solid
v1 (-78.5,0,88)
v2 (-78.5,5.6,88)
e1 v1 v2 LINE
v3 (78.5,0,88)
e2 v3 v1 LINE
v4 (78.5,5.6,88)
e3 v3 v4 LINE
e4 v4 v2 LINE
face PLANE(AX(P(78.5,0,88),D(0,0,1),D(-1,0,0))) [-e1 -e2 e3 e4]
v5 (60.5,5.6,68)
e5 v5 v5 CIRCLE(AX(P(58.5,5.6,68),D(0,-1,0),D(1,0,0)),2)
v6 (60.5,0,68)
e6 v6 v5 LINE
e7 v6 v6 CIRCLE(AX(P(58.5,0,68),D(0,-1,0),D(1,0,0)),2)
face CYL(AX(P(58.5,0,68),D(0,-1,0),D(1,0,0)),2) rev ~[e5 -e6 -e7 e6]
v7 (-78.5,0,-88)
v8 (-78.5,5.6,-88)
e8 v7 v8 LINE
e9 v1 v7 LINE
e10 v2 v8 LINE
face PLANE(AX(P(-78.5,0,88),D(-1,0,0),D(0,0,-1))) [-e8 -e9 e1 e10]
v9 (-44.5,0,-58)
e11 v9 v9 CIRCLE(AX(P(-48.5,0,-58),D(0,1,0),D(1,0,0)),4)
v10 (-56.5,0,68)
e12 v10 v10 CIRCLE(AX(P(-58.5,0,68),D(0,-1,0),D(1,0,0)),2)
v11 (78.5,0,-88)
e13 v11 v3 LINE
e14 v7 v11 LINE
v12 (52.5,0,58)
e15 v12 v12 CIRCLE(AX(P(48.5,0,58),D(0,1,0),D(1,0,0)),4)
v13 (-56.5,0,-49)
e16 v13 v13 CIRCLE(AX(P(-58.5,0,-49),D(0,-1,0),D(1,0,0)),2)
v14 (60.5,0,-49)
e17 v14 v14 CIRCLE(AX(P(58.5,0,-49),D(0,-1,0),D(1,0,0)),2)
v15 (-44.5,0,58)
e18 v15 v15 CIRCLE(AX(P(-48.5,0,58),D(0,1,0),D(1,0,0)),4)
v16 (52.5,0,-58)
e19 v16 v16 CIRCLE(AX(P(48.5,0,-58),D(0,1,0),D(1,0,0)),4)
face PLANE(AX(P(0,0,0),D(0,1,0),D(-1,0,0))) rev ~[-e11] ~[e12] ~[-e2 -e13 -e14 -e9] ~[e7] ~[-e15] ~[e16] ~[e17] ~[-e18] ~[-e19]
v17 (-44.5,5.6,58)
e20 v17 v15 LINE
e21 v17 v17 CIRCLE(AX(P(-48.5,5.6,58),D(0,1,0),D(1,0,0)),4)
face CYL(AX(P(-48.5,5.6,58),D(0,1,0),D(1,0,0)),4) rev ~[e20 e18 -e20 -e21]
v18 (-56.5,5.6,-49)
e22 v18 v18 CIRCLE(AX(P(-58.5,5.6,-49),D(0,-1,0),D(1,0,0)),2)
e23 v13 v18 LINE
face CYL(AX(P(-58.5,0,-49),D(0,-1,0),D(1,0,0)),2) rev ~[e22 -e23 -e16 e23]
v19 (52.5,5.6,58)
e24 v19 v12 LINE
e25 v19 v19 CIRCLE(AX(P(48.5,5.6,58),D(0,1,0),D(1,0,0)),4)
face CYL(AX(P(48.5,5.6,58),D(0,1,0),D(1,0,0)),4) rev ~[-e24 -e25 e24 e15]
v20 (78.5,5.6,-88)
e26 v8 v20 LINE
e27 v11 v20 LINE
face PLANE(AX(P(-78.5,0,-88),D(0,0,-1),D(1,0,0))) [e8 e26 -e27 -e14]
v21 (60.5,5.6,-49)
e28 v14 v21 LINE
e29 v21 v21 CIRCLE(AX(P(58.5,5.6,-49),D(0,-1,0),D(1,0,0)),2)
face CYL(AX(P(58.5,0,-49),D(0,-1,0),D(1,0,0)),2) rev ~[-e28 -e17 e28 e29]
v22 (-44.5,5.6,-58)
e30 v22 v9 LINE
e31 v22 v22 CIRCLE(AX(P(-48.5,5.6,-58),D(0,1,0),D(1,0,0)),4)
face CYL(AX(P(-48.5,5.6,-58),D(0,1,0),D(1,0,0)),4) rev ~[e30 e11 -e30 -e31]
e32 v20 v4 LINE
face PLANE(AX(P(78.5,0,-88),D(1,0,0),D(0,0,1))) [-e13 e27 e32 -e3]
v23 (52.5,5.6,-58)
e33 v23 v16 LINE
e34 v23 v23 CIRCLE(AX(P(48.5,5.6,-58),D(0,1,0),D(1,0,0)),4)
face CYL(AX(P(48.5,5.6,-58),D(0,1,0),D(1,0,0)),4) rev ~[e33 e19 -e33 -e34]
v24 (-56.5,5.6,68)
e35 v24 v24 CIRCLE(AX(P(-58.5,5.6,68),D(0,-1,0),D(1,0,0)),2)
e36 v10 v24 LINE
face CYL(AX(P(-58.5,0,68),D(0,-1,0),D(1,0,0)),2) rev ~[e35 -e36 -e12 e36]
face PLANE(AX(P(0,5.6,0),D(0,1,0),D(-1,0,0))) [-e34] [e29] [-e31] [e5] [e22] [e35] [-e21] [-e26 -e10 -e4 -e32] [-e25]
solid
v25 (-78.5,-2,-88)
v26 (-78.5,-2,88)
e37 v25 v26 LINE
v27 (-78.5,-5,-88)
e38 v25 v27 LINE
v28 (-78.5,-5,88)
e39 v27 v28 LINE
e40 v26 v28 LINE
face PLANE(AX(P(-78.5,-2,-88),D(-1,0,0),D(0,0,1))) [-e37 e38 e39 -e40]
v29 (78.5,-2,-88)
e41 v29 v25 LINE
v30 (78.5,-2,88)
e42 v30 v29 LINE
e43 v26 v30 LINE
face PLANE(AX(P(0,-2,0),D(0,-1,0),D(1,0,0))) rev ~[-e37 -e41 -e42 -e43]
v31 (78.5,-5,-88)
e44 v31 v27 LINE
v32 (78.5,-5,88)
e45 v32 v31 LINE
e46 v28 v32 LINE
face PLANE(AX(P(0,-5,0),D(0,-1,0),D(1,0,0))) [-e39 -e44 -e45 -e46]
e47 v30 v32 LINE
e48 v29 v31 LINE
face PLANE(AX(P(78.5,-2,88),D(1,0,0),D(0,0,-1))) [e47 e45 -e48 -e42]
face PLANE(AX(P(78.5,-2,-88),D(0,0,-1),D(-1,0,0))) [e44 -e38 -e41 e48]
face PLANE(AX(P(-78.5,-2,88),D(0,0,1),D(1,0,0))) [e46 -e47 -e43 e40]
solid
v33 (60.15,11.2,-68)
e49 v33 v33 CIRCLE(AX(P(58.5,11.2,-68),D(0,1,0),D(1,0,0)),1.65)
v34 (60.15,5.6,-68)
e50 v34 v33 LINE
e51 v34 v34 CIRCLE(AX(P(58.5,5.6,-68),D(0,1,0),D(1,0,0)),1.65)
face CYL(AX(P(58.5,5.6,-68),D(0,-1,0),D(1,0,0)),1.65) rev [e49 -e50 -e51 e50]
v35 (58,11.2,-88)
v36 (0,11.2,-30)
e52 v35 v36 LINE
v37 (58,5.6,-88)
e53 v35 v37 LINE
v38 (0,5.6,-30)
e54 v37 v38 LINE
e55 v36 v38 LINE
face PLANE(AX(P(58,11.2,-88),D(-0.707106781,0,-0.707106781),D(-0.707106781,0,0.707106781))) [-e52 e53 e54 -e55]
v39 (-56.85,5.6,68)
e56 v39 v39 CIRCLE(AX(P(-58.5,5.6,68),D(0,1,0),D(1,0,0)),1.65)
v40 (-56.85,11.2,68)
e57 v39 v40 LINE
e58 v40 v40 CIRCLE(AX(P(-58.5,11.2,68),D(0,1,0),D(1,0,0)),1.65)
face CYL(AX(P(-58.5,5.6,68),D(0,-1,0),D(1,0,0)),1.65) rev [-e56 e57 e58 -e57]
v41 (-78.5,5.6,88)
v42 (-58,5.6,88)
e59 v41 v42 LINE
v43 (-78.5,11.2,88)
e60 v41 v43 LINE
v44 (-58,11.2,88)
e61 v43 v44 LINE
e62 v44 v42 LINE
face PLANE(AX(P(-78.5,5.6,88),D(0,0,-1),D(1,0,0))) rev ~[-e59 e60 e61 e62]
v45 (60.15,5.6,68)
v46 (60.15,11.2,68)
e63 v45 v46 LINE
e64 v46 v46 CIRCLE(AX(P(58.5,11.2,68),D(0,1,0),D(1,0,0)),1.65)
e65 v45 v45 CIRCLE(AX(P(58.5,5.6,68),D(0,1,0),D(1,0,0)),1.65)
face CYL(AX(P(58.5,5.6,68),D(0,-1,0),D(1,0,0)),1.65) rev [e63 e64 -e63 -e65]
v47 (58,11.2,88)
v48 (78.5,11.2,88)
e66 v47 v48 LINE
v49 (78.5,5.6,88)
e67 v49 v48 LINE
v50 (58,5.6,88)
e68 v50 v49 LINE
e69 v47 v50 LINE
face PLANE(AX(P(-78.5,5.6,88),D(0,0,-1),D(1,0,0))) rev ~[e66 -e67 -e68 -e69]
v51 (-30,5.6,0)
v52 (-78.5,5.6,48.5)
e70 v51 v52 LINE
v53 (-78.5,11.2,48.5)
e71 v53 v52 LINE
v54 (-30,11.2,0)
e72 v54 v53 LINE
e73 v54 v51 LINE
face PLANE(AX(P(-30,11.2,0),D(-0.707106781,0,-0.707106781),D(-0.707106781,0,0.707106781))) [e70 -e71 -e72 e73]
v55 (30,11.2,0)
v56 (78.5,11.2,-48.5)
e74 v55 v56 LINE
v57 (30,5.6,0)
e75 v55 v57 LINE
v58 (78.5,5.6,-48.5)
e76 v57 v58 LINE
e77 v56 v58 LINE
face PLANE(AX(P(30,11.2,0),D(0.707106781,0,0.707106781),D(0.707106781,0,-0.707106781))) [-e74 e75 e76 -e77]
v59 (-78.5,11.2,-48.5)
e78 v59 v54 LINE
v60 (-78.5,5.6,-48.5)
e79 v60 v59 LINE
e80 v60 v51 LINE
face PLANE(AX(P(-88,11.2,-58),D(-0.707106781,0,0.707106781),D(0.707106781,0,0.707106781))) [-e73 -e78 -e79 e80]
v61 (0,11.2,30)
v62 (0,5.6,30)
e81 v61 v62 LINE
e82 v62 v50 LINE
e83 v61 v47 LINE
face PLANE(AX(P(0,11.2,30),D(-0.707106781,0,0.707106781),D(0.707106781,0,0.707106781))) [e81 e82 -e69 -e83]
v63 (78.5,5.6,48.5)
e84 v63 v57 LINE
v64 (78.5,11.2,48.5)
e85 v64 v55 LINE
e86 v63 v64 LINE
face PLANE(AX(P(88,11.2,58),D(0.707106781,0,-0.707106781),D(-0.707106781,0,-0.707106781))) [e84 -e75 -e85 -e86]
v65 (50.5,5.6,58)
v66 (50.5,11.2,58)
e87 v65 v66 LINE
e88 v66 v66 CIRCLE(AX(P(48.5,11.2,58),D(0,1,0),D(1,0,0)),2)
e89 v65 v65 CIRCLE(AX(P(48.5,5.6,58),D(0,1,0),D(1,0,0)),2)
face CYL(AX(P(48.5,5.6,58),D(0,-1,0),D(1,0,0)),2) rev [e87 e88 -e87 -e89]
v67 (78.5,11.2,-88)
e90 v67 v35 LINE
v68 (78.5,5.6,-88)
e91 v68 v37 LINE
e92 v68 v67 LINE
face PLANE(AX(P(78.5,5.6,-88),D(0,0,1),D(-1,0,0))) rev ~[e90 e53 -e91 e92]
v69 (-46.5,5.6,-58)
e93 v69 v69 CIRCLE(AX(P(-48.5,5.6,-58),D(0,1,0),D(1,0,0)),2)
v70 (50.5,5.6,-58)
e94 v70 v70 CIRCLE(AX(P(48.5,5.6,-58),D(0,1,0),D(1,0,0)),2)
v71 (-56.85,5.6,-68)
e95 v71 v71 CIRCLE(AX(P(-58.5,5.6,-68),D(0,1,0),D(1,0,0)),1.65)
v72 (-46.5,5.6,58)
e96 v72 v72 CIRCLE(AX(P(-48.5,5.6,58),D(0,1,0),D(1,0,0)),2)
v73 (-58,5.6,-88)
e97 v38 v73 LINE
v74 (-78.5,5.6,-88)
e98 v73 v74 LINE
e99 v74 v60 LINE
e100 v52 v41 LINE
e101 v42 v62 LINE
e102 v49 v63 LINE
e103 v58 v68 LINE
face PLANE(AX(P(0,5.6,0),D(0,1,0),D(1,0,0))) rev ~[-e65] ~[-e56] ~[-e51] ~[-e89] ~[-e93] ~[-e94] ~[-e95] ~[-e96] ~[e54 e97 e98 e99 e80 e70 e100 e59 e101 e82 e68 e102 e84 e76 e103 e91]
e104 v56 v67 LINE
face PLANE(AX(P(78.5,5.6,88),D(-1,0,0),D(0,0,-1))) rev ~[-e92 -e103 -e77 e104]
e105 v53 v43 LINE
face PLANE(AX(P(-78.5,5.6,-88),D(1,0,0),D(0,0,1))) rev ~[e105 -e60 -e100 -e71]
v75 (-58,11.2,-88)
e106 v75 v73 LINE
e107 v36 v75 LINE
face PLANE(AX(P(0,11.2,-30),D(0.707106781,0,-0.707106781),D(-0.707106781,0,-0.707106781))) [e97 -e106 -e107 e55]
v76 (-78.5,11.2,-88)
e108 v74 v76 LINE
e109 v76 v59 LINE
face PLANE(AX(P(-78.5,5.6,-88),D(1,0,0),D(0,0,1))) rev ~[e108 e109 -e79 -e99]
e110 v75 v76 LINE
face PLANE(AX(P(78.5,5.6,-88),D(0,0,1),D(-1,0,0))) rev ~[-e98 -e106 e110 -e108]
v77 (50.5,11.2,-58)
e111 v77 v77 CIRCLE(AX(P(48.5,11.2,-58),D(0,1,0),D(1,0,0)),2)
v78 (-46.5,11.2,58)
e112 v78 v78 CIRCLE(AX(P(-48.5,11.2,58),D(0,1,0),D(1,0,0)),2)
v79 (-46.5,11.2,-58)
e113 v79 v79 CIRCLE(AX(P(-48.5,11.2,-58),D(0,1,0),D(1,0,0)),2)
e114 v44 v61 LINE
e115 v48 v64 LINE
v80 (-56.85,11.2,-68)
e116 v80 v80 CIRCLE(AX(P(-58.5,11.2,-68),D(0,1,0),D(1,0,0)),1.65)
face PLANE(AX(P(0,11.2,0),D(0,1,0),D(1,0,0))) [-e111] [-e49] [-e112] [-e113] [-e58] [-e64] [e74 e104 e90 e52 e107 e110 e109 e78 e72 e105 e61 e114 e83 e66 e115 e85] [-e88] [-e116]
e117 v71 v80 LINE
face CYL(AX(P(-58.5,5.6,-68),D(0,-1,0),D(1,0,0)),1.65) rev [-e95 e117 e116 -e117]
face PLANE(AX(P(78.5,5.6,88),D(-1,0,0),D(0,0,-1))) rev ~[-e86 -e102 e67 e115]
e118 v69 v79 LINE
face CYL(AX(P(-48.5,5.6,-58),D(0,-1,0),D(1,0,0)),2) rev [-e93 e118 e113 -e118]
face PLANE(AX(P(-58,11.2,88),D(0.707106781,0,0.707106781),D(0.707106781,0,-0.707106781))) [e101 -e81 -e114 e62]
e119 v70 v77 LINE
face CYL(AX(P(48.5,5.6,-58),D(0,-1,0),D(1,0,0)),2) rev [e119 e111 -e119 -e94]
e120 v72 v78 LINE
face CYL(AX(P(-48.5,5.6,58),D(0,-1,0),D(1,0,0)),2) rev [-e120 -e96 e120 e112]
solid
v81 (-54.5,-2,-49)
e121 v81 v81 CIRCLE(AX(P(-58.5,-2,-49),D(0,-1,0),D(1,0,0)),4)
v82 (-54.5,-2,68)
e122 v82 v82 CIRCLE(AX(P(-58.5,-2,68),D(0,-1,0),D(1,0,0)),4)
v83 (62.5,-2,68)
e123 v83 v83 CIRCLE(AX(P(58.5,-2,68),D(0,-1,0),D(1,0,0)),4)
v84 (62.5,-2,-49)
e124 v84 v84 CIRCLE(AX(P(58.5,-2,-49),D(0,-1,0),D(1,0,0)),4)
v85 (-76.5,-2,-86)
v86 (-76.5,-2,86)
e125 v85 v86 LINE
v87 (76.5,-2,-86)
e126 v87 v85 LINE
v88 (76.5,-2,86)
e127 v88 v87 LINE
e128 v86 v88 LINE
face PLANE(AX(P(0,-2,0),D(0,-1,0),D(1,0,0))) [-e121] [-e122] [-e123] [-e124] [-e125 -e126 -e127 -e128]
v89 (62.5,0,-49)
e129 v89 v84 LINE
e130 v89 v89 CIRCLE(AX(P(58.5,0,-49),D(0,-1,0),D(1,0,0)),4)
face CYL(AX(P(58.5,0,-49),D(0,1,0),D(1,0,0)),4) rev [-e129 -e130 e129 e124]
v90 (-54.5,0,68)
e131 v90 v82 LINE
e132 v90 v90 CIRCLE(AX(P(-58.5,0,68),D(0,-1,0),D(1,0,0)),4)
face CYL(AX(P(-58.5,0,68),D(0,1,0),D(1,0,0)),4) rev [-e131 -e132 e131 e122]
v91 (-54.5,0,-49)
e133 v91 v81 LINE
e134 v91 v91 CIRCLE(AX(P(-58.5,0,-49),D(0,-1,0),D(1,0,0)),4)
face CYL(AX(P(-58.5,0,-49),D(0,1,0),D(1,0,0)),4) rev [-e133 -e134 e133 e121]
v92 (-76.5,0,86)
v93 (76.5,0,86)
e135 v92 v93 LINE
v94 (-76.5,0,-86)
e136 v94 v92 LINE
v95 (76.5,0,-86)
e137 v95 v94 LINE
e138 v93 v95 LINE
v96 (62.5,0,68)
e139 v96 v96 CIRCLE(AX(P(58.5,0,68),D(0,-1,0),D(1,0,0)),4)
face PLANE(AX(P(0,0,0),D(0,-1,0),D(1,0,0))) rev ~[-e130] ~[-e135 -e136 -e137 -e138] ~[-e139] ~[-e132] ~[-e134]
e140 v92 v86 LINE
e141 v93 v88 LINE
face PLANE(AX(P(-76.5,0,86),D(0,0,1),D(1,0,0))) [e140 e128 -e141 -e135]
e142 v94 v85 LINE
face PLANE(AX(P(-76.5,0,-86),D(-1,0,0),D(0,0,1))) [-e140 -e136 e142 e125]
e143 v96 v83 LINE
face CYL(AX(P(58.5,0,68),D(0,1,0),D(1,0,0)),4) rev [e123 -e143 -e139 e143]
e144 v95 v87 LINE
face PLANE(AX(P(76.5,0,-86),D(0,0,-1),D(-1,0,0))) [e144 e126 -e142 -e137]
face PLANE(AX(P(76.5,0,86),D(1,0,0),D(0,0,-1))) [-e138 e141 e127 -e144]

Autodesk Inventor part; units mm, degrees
ref_plane "YZ Plane" through (0, 0, 0) normal (1, 0, 0) x (0, 1, 0)
ref_plane "XZ Plane" through (0, 0, 0) normal (0, 1, 0) x (-1, 0, 0)
ref_plane "XY Plane" through (0, 0, 0) normal (0, 0, 1) x (1, 0, 0)
sketch "Sketch1" plane through (0, 0, 0) normal (0, 1, 0) x (-1, 0, 0)
  line L0 (78.5, -88) -> (-78.5, -88)
  line L1 (-78.5, -88) -> (-78.5, 88)
  line L2 (-78.5, 88) -> (78.5, 88)
  line L3 (78.5, 88) -> (78.5, -88)
  line L4 (78.5, -88) -> (-78.5, 88) construction
  line L5 (-78.5, -88) -> (78.5, 88) construction
  point P0 (0, 0)
  dimension "d0" = 176
  dimension "d1" = 157
extrude "Extrusion1" add sketch "Sketch1" along normal blind 5.6
sketch "Sketch9" plane through (0, 5.6, 0) normal (0, 1, 0) x (1, 0, 0)
  line L0 (78.5, 88) -> (-78.5, 88) projected
  line L1 (-78.5, 88) -> (-78.5, -88) projected
  line L2 (-78.5, -88) -> (78.5, -88) projected
  line L3 (78.5, -88) -> (78.5, 88) projected
  circle A0 centre (-48.5, 58) radius 2
  circle A1 centre (48.5, 58) radius 2
  circle A2 centre (-48.5, -58) radius 2
  circle A3 centre (48.5, -58) radius 2
  circle A4 centre (-58.5, 68) radius 1.65
  circle A5 centre (58.5, 68) radius 1.65
  circle A6 centre (-58.5, -68) radius 1.65
  circle A7 centre (58.5, -68) radius 1.65
  point P0 (0, 0)
  dimension "d56" = 4
  dimension "d57" = 30
  dimension "d58" = 30
  dimension "d61" = 97
  dimension "d64" = 116
  dimension "d76" = 3.3
  dimension "d77" = 20
  dimension "d78" = 20
  dimension "d81" = 117
  dimension "d84" = 136
extrude "Extrusion8" add sketch "Sketch9" along normal blind 5.6 separate body
sketch "Sketch2" plane through (0, 0, 0) normal (0, -1, 0) x (1, 0, 0)
  line L0 (78.5, -88) -> (78.5, 88) projected
  line L1 (78.5, 88) -> (-78.5, 88) projected
  line L2 (-78.5, 88) -> (-78.5, -88) projected
  circle A0 centre (-58.5, 68) radius 2
  circle A1 centre (58.5, 68) radius 2
  circle A2 centre (-58.5, -49) radius 2
  circle A3 centre (58.5, -49) radius 2
  point P0 (0, 0)
  dimension "d4" = 4
  dimension "d5" = 20
  dimension "d6" = 20
  dimension "d9" = 117
  dimension "d12" = 117
extrude "Extrusion2" cut sketch "Sketch2" against normal blind 117 bodies 1
sketch "Sketch3" plane through (0, 0, 0) normal (0, -1, 0) x (1, 0, 0)
  circle A0 centre (-58.5, -49) radius 2 projected
  circle A1 centre (-58.5, 68) radius 2 projected
  circle A2 centre (58.5, 68) radius 2 projected
  circle A3 centre (58.5, -49) radius 2 projected
  line L0 (78.5, 88) -> (-78.5, 88) projected
  line L1 (-78.5, 88) -> (-78.5, -88) projected
  circle A4 centre (-58.5, 68) radius 4
  circle A5 centre (58.5, 68) radius 4
  circle A6 centre (58.5, -49) radius 4
  circle A7 centre (-58.5, -49) radius 4
  line L2 (76.5, -86) -> (-76.5, -86)
  line L3 (-76.5, -86) -> (-76.5, 86)
  line L4 (-76.5, 86) -> (76.5, 86)
  line L5 (76.5, 86) -> (76.5, -86)
  line L6 (76.5, -86) -> (-76.5, 86) construction
  line L7 (-76.5, -86) -> (76.5, 86) construction
  point P0 (0, 0)
  dimension "d17" = 8
  dimension "d18" = 8
  dimension "d19" = 8
  dimension "d20" = 8
  dimension "d21" = 2
  dimension "d22" = 2
extrude "Extrusion3" add sketch "Sketch3" along normal blind 2 separate body contours L2 L3 L4 L5
sketch "Sketch4" plane through (0, -2, 0) normal (0, -1, 0) x (1, 0, 0)
  circle A0 centre (-58.5, -49) radius 4 projected
  circle A1 centre (58.5, -49) radius 4 projected
  circle A2 centre (58.5, 68) radius 4 projected
  circle A3 centre (-58.5, 68) radius 4 projected
  line L0 (-76.5, -86) -> (76.5, -86) projected
  line L1 (76.5, -86) -> (76.5, 86) projected
  line L2 (76.5, 86) -> (-76.5, 86) projected
  line L3 (-76.5, 86) -> (-76.5, -86) projected
  line L4 (78.5, -88) -> (-78.5, -88)
  line L5 (-78.5, -88) -> (-78.5, 88)
  line L6 (-78.5, 88) -> (78.5, 88)
  line L7 (78.5, 88) -> (78.5, -88)
  line L8 (78.5, -88) -> (-78.5, 88) construction
  line L9 (-78.5, -88) -> (78.5, 88) construction
  point P0 (0, 0)
  dimension "d25" = 176
  dimension "d26" = 157
extrude "Extrusion4" add sketch "Sketch4" along normal blind 3 separate body contours A0 | A1 | A2 | A3 | L3 L2 L1 L0 | L4 L5 L6 L7
sketch "Sketch8" plane through (0, 5.6, 0) normal (0, 1, 0) x (1, 0, 0)
  line L0 (78.5, 88) -> (-78.5, 88) projected
  line L1 (-78.5, 88) -> (-78.5, -88) projected
  circle A0 centre (-48.5, 58) radius 4
  circle A1 centre (48.5, 58) radius 4
  circle A2 centre (-48.5, -58) radius 4
  circle A3 centre (48.5, -58) radius 4
  point P0 (0, 0)
  dimension "d43" = 30
  dimension "d44" = 30
  dimension "d45" = 8
  dimension "d48" = 97
  dimension "d51" = 116
extrude "Extrusion7" cut sketch "Sketch8" against normal up to next bodies 1
sketch "Sketch6" plane through (0, 5.6, 0) normal (0, 1, 0) x (1, 0, 0)
  line L0 (78.5, 88) -> (-78.5, 88) projected
  line L1 (-78.5, 88) -> (-78.5, -88) projected
  line L2 (-78.5, -88) -> (78.5, -88) projected
  line L3 (78.5, -88) -> (78.5, 88) projected
  line L4 (38.5, -48) -> (-38.5, -48)
  line L5 (-38.5, -48) -> (-38.5, 48)
  line L6 (-38.5, 48) -> (38.5, 48)
  line L7 (38.5, 48) -> (38.5, -48)
  line L8 (38.5, -48) -> (-38.5, 48) construction
  line L9 (-38.5, -48) -> (38.5, 48) construction
  line L10 (0, 48) -> (40, 88)
  line L11 (0, 48) -> (56.5685, 48) construction
  line L12 (-38.5, 0) -> (-78.5, 40)
  line L13 (-38.5, 0) -> (-78.5, -40)
  line L14 (0, -48) -> (-40, -88)
  line L15 (0, -48) -> (40, -88)
  line L16 (38.5, 0) -> (78.5, -40)
  line L17 (38.5, 0) -> (78.5, 40)
  line L18 (0, 48) -> (-40, 88)
  point P0 (0, 0)
  dimension "d32" = 40
  dimension "d33" = 40
  dimension "d34" = 45
  dimension "d35" = 45
extrude "Extrusion5" [suppressed]
sketch "Sketch7" plane through (0, -2, 0) normal (0, -1, 0) x (1, 0, 0)
  line L0 (-76.5, -86) -> (76.5, -86) projected
  line L1 (76.5, -86) -> (76.5, 86) projected
  line L2 (76.5, 86) -> (-76.5, 86) projected
  line L3 (-76.5, 86) -> (-76.5, -86) projected
  line L4 (34.5, -44) -> (-34.5, -44)
  line L5 (-34.5, -44) -> (-34.5, 44)
  line L6 (-34.5, 44) -> (34.5, 44)
  line L7 (34.5, 44) -> (34.5, -44)
  line L8 (34.5, -44) -> (-34.5, 44) construction
  line L9 (-34.5, -44) -> (34.5, 44) construction
  line L10 (0, 44) -> (42, 86)
  line L11 (0, 44) -> (59.397, 44) construction
  line L12 (0, 44) -> (-42, 86)
  line L13 (-34.5, 0) -> (-76.5, 42)
  line L14 (-34.5, 0) -> (-76.5, -42)
  line L15 (0, -44) -> (-42, -86)
  line L16 (0, -44) -> (42, -86)
  line L17 (34.5, 0) -> (76.5, 42)
  line L18 (34.5, 0) -> (76.5, -42)
  point P0 (0, 0)
  dimension "d38" = 42
  dimension "d39" = 42
  dimension "d40" = 45
extrude "Extrusion6" [suppressed]
sketch "Sketch10" plane through (0, 11.2, 0) normal (0, 1, 0) x (1, 0, 0)
  line L0 (78.5, 88) -> (-78.5, 88) projected
  line L1 (0, 30) -> (-58, 88)
  line L2 (-58, 88) -> (0, 146)
  line L3 (0, 146) -> (58, 88)
  line L4 (58, 88) -> (0, 30)
  line L5 (-58, 88) -> (58, 88)
  line L6 (-30, 0) -> (-88, -58)
  line L7 (-88, 58) -> (-30, 0)
  line L8 (-88, -58) -> (-88, 58)
  line L9 (0, -30) -> (58, -88)
  line L10 (-58, -88) -> (0, -30)
  line L11 (58, -88) -> (-58, -88)
  line L12 (30, 0) -> (88, 58)
  line L13 (88, -58) -> (30, 0)
  line L14 (88, 58) -> (88, -58)
  point P0 (0, 0)
  point P1 (0, 88)
  point P2 (-88, 0)
  point P3 (0, -88)
  point P4 (88, 0)
  dimension "d69" = 30
  dimension "d72" = 360
extrude "Extrusion9" cut sketch "Sketch10" against normal up to next contours L4 L1 L0 | L6 L8 L7 | L9 L11 L10 | L12 L14 L13 bodies 2
sketch "Sketch11" plane through (0, -5, 0) normal (0, -1, 0) x (1, 0, 0)
  line L0 (-78.5, -88) -> (78.5, -88) projected
  line L1 (78.5, -88) -> (78.5, 88) projected
  line L2 (78.5, 88) -> (-78.5, 88) projected
  line L3 (-78.5, 88) -> (-78.5, -88) projected
  line L4 (-80.5, -90) -> (80.5, -90)
  line L5 (80.5, -90) -> (80.5, 90)
  line L6 (80.5, 90) -> (-80.5, 90)
  line L7 (-80.5, 90) -> (-80.5, -90)
  line L8 (-80.5, -90) -> (80.5, 90) construction
  line L9 (80.5, -90) -> (-80.5, 90) construction
  circle A0 centre (-70.5, 80) radius 10
  line L10 (-80.5, 90) -> (-70.5, 90)
  line L11 (-70.5, 90) -> (-70.5, 70)
  line L12 (-70.5, 70) -> (-80.5, 70)
  line L13 (-80.5, 70) -> (-80.5, 90)
  line L14 (-80.5, 90) -> (-60.5, 90)
  line L15 (-60.5, 90) -> (-60.5, 80)
  line L16 (-60.5, 80) -> (-80.5, 80)
  line L17 (-80.5, 80) -> (-80.5, 90)
  point P0 (0, 0)
  dimension "d87" = 161
  dimension "d88" = 180
  dimension "d89" = 20
  dimension "d90" = 10
  dimension "d91" = 10
  dimension "d92" = 10
  dimension "d93" = 10
equation "\"d0\" = bed_y"
equation "\"d1\" = bed_x"
equation "\"t_backing\" = thick_acrylic"
equation "\"d56\" = brass_insert_drill"
equation "\"d57\" = spring_border"
equation "\"d58\" = spring_border"
equation "\"d61\" = bed_x - 2 * spring_border"
equation "\"d64\" = bed_y - 2 * spring_border"
equation "\"d77\" = bed_clamp_border"
equation "\"d78\" = bed_clamp_border"
equation "\"d81\" = bed_x - 2 * bed_clamp_border"
equation "\"d84\" = bed_y - 2 * bed_clamp_border"
equation "\"t_interface\" = thick_acrylic"
equation "\"d4\" = brass_insert_drill"
equation "\"d5\" = bed_clamp_border"
equation "\"d6\" = bed_clamp_border"
equation "\"d9\" = bed_x - 2 * bed_clamp_border"
equation "\"d12\" = bed_x - 2 * bed_clamp_border"
equation "\"d15\" = d9"
equation "\"d17\" = brass_keep_out"
equation "\"d18\" = brass_keep_out"
equation "\"d19\" = brass_keep_out"
equation "\"d20\" = brass_keep_out"
equation "\"d21\" = tape_keep_out"
equation "\"d22\" = tape_keep_out"
equation "\"d23\" = tape_thickness"
equation "\"d25\" = bed_y"
equation "\"d26\" = bed_x"
equation "\"t_bed\" = thin_acrylic"
equation "\"d43\" = spring_border"
equation "\"d44\" = spring_border"
equation "\"d48\" = bed_x - 2 * spring_border"
equation "\"d51\" = bed_y - 2 * spring_border"
equation "\"d32\" = bed_cutout"
equation "\"d33\" = bed_cutout"
equation "\"d38\" = bed_cutout + tape_keep_out"
equation "\"d39\" = bed_cutout + tape_keep_out"
equation "\"d74\" = thick_acrylic"
equation "\"d87\" = reservoir_x"
equation "\"d88\" = reservoir_y"
equation "\"wood_thickness\" = 6.4"
equation "\"m3_diameter\" = 3.15"
equation "\"m5_diameter\" = 5.25"
equation "\"stepper_screw_space\" = 35"
equation "\"stepper_shaft_diameter\" = 5"
equation "\"stepper_body_diameter\" = 28"
equation "\"laser_body_diameter\" = 12"
equation "\"thick_acrylic\" = 5.6"
equation "\"reservoir_x\" = 161"
equation "\"reservoir_y\" = 180"
equation "\"thin_acrylic\" = 3"
equation "\"linear_bearing_spacing\" = 217"
equation "\"motor_spacing\" = 297"
equation "\"tray_boarder\" = 15"
equation "\"tray_x\" = 191"
equation "\"bed_x\" = 157"
equation "\"bed_y\" = 176"
equation "\"spring_boarder\" = 15"
equation "\"brass_insert_drill\" = 4"
equation "\"brass_keep_out\" = 8"
equation "\"tape_keep_out\" = 2"
equation "\"tape_thickness\" = 2"
equation "\"bed_cutout\" = 40"
equation "\"spring_border\" = 30"
equation "\"crane_x\" = 255.2"
equation "\"crane_z\" = 25"
equation "\"z_min_from_center\" = 77.6"
equation "\"printer_z\" = 289"
equation "\"bed_clamp_border\" = 20"
equation "\"linear_bearing_z\" = 304.8"
equation "\"threaded_rod_z\" = 203.2"
equation "\"carrier_z\" = 258.6"
equation "\"carrier_z2\" = 283.6"
equation "\"window_z\" = 185"
equation "\"frame_tilt\" = 1deg"
equation "\"lcd_y\" = 25"
equation "\"lcd_x\" = 72"
equation "\"clear_acrylic\" = 3"
equation "\"laser_z\" = 18"
equation "\"subframe_x\" = 155"
equation "\"laser_diameter\" = 12"
equation "\"laser_y_offset\" = 19.4"
equation "\"subframe_y_offset\" = 27.5"
equation "\"laser_y\" = 35"
equation "\"frame_top_z\" = 295"
equation "\"frame_y\" = 66.2"
equation "\"frame_bottom_z\" = 225"
equation "\"t_frame\" = 6.4"
equation "\"frame_border\" = 39.5"
equation "\"t_carrier\" = 5.6"
equation "\"t_tray\" = 3"
equation "\"tray_border\" = 15"
equation "\"t_wall\" = 5.6"
equation "\"galvo_frame_z\" = 65"
equation "\"galvo_frame_x\" = 66"
equation "\"t_galvo_frame\" = 5.6"
equation "\"galvo_frame_y_offset\" = 27.5"
equation "\"m4_diameter\" = 4.2"
equation "\"laser_z_offset\" = 55"
equation "\"window_y\" = 65.5"
equation "\"t_window\" = 3"
equation "\"drawer_z\" = 206.4"
equation "\"drawer_y\" = 65.5"
equation "\"drawer_x\" = 191"
equation "\"frame_foot_z\" = 49.5"
equation "\"drawer_z_from_bottom\" = 25"
equation "\"end_stop_offset_x\" = 69"
equation "\"t_crane\" = 6.4"
equation "\"end_stop_spacing\" = 9.5"
equation "\"thumb_nut_offset_y\" = 14.4"
equation "\"thumb_nut_diameter\" = 14"
equation "\"frame_foot_extension\" = 4"
properties part number "crane"
